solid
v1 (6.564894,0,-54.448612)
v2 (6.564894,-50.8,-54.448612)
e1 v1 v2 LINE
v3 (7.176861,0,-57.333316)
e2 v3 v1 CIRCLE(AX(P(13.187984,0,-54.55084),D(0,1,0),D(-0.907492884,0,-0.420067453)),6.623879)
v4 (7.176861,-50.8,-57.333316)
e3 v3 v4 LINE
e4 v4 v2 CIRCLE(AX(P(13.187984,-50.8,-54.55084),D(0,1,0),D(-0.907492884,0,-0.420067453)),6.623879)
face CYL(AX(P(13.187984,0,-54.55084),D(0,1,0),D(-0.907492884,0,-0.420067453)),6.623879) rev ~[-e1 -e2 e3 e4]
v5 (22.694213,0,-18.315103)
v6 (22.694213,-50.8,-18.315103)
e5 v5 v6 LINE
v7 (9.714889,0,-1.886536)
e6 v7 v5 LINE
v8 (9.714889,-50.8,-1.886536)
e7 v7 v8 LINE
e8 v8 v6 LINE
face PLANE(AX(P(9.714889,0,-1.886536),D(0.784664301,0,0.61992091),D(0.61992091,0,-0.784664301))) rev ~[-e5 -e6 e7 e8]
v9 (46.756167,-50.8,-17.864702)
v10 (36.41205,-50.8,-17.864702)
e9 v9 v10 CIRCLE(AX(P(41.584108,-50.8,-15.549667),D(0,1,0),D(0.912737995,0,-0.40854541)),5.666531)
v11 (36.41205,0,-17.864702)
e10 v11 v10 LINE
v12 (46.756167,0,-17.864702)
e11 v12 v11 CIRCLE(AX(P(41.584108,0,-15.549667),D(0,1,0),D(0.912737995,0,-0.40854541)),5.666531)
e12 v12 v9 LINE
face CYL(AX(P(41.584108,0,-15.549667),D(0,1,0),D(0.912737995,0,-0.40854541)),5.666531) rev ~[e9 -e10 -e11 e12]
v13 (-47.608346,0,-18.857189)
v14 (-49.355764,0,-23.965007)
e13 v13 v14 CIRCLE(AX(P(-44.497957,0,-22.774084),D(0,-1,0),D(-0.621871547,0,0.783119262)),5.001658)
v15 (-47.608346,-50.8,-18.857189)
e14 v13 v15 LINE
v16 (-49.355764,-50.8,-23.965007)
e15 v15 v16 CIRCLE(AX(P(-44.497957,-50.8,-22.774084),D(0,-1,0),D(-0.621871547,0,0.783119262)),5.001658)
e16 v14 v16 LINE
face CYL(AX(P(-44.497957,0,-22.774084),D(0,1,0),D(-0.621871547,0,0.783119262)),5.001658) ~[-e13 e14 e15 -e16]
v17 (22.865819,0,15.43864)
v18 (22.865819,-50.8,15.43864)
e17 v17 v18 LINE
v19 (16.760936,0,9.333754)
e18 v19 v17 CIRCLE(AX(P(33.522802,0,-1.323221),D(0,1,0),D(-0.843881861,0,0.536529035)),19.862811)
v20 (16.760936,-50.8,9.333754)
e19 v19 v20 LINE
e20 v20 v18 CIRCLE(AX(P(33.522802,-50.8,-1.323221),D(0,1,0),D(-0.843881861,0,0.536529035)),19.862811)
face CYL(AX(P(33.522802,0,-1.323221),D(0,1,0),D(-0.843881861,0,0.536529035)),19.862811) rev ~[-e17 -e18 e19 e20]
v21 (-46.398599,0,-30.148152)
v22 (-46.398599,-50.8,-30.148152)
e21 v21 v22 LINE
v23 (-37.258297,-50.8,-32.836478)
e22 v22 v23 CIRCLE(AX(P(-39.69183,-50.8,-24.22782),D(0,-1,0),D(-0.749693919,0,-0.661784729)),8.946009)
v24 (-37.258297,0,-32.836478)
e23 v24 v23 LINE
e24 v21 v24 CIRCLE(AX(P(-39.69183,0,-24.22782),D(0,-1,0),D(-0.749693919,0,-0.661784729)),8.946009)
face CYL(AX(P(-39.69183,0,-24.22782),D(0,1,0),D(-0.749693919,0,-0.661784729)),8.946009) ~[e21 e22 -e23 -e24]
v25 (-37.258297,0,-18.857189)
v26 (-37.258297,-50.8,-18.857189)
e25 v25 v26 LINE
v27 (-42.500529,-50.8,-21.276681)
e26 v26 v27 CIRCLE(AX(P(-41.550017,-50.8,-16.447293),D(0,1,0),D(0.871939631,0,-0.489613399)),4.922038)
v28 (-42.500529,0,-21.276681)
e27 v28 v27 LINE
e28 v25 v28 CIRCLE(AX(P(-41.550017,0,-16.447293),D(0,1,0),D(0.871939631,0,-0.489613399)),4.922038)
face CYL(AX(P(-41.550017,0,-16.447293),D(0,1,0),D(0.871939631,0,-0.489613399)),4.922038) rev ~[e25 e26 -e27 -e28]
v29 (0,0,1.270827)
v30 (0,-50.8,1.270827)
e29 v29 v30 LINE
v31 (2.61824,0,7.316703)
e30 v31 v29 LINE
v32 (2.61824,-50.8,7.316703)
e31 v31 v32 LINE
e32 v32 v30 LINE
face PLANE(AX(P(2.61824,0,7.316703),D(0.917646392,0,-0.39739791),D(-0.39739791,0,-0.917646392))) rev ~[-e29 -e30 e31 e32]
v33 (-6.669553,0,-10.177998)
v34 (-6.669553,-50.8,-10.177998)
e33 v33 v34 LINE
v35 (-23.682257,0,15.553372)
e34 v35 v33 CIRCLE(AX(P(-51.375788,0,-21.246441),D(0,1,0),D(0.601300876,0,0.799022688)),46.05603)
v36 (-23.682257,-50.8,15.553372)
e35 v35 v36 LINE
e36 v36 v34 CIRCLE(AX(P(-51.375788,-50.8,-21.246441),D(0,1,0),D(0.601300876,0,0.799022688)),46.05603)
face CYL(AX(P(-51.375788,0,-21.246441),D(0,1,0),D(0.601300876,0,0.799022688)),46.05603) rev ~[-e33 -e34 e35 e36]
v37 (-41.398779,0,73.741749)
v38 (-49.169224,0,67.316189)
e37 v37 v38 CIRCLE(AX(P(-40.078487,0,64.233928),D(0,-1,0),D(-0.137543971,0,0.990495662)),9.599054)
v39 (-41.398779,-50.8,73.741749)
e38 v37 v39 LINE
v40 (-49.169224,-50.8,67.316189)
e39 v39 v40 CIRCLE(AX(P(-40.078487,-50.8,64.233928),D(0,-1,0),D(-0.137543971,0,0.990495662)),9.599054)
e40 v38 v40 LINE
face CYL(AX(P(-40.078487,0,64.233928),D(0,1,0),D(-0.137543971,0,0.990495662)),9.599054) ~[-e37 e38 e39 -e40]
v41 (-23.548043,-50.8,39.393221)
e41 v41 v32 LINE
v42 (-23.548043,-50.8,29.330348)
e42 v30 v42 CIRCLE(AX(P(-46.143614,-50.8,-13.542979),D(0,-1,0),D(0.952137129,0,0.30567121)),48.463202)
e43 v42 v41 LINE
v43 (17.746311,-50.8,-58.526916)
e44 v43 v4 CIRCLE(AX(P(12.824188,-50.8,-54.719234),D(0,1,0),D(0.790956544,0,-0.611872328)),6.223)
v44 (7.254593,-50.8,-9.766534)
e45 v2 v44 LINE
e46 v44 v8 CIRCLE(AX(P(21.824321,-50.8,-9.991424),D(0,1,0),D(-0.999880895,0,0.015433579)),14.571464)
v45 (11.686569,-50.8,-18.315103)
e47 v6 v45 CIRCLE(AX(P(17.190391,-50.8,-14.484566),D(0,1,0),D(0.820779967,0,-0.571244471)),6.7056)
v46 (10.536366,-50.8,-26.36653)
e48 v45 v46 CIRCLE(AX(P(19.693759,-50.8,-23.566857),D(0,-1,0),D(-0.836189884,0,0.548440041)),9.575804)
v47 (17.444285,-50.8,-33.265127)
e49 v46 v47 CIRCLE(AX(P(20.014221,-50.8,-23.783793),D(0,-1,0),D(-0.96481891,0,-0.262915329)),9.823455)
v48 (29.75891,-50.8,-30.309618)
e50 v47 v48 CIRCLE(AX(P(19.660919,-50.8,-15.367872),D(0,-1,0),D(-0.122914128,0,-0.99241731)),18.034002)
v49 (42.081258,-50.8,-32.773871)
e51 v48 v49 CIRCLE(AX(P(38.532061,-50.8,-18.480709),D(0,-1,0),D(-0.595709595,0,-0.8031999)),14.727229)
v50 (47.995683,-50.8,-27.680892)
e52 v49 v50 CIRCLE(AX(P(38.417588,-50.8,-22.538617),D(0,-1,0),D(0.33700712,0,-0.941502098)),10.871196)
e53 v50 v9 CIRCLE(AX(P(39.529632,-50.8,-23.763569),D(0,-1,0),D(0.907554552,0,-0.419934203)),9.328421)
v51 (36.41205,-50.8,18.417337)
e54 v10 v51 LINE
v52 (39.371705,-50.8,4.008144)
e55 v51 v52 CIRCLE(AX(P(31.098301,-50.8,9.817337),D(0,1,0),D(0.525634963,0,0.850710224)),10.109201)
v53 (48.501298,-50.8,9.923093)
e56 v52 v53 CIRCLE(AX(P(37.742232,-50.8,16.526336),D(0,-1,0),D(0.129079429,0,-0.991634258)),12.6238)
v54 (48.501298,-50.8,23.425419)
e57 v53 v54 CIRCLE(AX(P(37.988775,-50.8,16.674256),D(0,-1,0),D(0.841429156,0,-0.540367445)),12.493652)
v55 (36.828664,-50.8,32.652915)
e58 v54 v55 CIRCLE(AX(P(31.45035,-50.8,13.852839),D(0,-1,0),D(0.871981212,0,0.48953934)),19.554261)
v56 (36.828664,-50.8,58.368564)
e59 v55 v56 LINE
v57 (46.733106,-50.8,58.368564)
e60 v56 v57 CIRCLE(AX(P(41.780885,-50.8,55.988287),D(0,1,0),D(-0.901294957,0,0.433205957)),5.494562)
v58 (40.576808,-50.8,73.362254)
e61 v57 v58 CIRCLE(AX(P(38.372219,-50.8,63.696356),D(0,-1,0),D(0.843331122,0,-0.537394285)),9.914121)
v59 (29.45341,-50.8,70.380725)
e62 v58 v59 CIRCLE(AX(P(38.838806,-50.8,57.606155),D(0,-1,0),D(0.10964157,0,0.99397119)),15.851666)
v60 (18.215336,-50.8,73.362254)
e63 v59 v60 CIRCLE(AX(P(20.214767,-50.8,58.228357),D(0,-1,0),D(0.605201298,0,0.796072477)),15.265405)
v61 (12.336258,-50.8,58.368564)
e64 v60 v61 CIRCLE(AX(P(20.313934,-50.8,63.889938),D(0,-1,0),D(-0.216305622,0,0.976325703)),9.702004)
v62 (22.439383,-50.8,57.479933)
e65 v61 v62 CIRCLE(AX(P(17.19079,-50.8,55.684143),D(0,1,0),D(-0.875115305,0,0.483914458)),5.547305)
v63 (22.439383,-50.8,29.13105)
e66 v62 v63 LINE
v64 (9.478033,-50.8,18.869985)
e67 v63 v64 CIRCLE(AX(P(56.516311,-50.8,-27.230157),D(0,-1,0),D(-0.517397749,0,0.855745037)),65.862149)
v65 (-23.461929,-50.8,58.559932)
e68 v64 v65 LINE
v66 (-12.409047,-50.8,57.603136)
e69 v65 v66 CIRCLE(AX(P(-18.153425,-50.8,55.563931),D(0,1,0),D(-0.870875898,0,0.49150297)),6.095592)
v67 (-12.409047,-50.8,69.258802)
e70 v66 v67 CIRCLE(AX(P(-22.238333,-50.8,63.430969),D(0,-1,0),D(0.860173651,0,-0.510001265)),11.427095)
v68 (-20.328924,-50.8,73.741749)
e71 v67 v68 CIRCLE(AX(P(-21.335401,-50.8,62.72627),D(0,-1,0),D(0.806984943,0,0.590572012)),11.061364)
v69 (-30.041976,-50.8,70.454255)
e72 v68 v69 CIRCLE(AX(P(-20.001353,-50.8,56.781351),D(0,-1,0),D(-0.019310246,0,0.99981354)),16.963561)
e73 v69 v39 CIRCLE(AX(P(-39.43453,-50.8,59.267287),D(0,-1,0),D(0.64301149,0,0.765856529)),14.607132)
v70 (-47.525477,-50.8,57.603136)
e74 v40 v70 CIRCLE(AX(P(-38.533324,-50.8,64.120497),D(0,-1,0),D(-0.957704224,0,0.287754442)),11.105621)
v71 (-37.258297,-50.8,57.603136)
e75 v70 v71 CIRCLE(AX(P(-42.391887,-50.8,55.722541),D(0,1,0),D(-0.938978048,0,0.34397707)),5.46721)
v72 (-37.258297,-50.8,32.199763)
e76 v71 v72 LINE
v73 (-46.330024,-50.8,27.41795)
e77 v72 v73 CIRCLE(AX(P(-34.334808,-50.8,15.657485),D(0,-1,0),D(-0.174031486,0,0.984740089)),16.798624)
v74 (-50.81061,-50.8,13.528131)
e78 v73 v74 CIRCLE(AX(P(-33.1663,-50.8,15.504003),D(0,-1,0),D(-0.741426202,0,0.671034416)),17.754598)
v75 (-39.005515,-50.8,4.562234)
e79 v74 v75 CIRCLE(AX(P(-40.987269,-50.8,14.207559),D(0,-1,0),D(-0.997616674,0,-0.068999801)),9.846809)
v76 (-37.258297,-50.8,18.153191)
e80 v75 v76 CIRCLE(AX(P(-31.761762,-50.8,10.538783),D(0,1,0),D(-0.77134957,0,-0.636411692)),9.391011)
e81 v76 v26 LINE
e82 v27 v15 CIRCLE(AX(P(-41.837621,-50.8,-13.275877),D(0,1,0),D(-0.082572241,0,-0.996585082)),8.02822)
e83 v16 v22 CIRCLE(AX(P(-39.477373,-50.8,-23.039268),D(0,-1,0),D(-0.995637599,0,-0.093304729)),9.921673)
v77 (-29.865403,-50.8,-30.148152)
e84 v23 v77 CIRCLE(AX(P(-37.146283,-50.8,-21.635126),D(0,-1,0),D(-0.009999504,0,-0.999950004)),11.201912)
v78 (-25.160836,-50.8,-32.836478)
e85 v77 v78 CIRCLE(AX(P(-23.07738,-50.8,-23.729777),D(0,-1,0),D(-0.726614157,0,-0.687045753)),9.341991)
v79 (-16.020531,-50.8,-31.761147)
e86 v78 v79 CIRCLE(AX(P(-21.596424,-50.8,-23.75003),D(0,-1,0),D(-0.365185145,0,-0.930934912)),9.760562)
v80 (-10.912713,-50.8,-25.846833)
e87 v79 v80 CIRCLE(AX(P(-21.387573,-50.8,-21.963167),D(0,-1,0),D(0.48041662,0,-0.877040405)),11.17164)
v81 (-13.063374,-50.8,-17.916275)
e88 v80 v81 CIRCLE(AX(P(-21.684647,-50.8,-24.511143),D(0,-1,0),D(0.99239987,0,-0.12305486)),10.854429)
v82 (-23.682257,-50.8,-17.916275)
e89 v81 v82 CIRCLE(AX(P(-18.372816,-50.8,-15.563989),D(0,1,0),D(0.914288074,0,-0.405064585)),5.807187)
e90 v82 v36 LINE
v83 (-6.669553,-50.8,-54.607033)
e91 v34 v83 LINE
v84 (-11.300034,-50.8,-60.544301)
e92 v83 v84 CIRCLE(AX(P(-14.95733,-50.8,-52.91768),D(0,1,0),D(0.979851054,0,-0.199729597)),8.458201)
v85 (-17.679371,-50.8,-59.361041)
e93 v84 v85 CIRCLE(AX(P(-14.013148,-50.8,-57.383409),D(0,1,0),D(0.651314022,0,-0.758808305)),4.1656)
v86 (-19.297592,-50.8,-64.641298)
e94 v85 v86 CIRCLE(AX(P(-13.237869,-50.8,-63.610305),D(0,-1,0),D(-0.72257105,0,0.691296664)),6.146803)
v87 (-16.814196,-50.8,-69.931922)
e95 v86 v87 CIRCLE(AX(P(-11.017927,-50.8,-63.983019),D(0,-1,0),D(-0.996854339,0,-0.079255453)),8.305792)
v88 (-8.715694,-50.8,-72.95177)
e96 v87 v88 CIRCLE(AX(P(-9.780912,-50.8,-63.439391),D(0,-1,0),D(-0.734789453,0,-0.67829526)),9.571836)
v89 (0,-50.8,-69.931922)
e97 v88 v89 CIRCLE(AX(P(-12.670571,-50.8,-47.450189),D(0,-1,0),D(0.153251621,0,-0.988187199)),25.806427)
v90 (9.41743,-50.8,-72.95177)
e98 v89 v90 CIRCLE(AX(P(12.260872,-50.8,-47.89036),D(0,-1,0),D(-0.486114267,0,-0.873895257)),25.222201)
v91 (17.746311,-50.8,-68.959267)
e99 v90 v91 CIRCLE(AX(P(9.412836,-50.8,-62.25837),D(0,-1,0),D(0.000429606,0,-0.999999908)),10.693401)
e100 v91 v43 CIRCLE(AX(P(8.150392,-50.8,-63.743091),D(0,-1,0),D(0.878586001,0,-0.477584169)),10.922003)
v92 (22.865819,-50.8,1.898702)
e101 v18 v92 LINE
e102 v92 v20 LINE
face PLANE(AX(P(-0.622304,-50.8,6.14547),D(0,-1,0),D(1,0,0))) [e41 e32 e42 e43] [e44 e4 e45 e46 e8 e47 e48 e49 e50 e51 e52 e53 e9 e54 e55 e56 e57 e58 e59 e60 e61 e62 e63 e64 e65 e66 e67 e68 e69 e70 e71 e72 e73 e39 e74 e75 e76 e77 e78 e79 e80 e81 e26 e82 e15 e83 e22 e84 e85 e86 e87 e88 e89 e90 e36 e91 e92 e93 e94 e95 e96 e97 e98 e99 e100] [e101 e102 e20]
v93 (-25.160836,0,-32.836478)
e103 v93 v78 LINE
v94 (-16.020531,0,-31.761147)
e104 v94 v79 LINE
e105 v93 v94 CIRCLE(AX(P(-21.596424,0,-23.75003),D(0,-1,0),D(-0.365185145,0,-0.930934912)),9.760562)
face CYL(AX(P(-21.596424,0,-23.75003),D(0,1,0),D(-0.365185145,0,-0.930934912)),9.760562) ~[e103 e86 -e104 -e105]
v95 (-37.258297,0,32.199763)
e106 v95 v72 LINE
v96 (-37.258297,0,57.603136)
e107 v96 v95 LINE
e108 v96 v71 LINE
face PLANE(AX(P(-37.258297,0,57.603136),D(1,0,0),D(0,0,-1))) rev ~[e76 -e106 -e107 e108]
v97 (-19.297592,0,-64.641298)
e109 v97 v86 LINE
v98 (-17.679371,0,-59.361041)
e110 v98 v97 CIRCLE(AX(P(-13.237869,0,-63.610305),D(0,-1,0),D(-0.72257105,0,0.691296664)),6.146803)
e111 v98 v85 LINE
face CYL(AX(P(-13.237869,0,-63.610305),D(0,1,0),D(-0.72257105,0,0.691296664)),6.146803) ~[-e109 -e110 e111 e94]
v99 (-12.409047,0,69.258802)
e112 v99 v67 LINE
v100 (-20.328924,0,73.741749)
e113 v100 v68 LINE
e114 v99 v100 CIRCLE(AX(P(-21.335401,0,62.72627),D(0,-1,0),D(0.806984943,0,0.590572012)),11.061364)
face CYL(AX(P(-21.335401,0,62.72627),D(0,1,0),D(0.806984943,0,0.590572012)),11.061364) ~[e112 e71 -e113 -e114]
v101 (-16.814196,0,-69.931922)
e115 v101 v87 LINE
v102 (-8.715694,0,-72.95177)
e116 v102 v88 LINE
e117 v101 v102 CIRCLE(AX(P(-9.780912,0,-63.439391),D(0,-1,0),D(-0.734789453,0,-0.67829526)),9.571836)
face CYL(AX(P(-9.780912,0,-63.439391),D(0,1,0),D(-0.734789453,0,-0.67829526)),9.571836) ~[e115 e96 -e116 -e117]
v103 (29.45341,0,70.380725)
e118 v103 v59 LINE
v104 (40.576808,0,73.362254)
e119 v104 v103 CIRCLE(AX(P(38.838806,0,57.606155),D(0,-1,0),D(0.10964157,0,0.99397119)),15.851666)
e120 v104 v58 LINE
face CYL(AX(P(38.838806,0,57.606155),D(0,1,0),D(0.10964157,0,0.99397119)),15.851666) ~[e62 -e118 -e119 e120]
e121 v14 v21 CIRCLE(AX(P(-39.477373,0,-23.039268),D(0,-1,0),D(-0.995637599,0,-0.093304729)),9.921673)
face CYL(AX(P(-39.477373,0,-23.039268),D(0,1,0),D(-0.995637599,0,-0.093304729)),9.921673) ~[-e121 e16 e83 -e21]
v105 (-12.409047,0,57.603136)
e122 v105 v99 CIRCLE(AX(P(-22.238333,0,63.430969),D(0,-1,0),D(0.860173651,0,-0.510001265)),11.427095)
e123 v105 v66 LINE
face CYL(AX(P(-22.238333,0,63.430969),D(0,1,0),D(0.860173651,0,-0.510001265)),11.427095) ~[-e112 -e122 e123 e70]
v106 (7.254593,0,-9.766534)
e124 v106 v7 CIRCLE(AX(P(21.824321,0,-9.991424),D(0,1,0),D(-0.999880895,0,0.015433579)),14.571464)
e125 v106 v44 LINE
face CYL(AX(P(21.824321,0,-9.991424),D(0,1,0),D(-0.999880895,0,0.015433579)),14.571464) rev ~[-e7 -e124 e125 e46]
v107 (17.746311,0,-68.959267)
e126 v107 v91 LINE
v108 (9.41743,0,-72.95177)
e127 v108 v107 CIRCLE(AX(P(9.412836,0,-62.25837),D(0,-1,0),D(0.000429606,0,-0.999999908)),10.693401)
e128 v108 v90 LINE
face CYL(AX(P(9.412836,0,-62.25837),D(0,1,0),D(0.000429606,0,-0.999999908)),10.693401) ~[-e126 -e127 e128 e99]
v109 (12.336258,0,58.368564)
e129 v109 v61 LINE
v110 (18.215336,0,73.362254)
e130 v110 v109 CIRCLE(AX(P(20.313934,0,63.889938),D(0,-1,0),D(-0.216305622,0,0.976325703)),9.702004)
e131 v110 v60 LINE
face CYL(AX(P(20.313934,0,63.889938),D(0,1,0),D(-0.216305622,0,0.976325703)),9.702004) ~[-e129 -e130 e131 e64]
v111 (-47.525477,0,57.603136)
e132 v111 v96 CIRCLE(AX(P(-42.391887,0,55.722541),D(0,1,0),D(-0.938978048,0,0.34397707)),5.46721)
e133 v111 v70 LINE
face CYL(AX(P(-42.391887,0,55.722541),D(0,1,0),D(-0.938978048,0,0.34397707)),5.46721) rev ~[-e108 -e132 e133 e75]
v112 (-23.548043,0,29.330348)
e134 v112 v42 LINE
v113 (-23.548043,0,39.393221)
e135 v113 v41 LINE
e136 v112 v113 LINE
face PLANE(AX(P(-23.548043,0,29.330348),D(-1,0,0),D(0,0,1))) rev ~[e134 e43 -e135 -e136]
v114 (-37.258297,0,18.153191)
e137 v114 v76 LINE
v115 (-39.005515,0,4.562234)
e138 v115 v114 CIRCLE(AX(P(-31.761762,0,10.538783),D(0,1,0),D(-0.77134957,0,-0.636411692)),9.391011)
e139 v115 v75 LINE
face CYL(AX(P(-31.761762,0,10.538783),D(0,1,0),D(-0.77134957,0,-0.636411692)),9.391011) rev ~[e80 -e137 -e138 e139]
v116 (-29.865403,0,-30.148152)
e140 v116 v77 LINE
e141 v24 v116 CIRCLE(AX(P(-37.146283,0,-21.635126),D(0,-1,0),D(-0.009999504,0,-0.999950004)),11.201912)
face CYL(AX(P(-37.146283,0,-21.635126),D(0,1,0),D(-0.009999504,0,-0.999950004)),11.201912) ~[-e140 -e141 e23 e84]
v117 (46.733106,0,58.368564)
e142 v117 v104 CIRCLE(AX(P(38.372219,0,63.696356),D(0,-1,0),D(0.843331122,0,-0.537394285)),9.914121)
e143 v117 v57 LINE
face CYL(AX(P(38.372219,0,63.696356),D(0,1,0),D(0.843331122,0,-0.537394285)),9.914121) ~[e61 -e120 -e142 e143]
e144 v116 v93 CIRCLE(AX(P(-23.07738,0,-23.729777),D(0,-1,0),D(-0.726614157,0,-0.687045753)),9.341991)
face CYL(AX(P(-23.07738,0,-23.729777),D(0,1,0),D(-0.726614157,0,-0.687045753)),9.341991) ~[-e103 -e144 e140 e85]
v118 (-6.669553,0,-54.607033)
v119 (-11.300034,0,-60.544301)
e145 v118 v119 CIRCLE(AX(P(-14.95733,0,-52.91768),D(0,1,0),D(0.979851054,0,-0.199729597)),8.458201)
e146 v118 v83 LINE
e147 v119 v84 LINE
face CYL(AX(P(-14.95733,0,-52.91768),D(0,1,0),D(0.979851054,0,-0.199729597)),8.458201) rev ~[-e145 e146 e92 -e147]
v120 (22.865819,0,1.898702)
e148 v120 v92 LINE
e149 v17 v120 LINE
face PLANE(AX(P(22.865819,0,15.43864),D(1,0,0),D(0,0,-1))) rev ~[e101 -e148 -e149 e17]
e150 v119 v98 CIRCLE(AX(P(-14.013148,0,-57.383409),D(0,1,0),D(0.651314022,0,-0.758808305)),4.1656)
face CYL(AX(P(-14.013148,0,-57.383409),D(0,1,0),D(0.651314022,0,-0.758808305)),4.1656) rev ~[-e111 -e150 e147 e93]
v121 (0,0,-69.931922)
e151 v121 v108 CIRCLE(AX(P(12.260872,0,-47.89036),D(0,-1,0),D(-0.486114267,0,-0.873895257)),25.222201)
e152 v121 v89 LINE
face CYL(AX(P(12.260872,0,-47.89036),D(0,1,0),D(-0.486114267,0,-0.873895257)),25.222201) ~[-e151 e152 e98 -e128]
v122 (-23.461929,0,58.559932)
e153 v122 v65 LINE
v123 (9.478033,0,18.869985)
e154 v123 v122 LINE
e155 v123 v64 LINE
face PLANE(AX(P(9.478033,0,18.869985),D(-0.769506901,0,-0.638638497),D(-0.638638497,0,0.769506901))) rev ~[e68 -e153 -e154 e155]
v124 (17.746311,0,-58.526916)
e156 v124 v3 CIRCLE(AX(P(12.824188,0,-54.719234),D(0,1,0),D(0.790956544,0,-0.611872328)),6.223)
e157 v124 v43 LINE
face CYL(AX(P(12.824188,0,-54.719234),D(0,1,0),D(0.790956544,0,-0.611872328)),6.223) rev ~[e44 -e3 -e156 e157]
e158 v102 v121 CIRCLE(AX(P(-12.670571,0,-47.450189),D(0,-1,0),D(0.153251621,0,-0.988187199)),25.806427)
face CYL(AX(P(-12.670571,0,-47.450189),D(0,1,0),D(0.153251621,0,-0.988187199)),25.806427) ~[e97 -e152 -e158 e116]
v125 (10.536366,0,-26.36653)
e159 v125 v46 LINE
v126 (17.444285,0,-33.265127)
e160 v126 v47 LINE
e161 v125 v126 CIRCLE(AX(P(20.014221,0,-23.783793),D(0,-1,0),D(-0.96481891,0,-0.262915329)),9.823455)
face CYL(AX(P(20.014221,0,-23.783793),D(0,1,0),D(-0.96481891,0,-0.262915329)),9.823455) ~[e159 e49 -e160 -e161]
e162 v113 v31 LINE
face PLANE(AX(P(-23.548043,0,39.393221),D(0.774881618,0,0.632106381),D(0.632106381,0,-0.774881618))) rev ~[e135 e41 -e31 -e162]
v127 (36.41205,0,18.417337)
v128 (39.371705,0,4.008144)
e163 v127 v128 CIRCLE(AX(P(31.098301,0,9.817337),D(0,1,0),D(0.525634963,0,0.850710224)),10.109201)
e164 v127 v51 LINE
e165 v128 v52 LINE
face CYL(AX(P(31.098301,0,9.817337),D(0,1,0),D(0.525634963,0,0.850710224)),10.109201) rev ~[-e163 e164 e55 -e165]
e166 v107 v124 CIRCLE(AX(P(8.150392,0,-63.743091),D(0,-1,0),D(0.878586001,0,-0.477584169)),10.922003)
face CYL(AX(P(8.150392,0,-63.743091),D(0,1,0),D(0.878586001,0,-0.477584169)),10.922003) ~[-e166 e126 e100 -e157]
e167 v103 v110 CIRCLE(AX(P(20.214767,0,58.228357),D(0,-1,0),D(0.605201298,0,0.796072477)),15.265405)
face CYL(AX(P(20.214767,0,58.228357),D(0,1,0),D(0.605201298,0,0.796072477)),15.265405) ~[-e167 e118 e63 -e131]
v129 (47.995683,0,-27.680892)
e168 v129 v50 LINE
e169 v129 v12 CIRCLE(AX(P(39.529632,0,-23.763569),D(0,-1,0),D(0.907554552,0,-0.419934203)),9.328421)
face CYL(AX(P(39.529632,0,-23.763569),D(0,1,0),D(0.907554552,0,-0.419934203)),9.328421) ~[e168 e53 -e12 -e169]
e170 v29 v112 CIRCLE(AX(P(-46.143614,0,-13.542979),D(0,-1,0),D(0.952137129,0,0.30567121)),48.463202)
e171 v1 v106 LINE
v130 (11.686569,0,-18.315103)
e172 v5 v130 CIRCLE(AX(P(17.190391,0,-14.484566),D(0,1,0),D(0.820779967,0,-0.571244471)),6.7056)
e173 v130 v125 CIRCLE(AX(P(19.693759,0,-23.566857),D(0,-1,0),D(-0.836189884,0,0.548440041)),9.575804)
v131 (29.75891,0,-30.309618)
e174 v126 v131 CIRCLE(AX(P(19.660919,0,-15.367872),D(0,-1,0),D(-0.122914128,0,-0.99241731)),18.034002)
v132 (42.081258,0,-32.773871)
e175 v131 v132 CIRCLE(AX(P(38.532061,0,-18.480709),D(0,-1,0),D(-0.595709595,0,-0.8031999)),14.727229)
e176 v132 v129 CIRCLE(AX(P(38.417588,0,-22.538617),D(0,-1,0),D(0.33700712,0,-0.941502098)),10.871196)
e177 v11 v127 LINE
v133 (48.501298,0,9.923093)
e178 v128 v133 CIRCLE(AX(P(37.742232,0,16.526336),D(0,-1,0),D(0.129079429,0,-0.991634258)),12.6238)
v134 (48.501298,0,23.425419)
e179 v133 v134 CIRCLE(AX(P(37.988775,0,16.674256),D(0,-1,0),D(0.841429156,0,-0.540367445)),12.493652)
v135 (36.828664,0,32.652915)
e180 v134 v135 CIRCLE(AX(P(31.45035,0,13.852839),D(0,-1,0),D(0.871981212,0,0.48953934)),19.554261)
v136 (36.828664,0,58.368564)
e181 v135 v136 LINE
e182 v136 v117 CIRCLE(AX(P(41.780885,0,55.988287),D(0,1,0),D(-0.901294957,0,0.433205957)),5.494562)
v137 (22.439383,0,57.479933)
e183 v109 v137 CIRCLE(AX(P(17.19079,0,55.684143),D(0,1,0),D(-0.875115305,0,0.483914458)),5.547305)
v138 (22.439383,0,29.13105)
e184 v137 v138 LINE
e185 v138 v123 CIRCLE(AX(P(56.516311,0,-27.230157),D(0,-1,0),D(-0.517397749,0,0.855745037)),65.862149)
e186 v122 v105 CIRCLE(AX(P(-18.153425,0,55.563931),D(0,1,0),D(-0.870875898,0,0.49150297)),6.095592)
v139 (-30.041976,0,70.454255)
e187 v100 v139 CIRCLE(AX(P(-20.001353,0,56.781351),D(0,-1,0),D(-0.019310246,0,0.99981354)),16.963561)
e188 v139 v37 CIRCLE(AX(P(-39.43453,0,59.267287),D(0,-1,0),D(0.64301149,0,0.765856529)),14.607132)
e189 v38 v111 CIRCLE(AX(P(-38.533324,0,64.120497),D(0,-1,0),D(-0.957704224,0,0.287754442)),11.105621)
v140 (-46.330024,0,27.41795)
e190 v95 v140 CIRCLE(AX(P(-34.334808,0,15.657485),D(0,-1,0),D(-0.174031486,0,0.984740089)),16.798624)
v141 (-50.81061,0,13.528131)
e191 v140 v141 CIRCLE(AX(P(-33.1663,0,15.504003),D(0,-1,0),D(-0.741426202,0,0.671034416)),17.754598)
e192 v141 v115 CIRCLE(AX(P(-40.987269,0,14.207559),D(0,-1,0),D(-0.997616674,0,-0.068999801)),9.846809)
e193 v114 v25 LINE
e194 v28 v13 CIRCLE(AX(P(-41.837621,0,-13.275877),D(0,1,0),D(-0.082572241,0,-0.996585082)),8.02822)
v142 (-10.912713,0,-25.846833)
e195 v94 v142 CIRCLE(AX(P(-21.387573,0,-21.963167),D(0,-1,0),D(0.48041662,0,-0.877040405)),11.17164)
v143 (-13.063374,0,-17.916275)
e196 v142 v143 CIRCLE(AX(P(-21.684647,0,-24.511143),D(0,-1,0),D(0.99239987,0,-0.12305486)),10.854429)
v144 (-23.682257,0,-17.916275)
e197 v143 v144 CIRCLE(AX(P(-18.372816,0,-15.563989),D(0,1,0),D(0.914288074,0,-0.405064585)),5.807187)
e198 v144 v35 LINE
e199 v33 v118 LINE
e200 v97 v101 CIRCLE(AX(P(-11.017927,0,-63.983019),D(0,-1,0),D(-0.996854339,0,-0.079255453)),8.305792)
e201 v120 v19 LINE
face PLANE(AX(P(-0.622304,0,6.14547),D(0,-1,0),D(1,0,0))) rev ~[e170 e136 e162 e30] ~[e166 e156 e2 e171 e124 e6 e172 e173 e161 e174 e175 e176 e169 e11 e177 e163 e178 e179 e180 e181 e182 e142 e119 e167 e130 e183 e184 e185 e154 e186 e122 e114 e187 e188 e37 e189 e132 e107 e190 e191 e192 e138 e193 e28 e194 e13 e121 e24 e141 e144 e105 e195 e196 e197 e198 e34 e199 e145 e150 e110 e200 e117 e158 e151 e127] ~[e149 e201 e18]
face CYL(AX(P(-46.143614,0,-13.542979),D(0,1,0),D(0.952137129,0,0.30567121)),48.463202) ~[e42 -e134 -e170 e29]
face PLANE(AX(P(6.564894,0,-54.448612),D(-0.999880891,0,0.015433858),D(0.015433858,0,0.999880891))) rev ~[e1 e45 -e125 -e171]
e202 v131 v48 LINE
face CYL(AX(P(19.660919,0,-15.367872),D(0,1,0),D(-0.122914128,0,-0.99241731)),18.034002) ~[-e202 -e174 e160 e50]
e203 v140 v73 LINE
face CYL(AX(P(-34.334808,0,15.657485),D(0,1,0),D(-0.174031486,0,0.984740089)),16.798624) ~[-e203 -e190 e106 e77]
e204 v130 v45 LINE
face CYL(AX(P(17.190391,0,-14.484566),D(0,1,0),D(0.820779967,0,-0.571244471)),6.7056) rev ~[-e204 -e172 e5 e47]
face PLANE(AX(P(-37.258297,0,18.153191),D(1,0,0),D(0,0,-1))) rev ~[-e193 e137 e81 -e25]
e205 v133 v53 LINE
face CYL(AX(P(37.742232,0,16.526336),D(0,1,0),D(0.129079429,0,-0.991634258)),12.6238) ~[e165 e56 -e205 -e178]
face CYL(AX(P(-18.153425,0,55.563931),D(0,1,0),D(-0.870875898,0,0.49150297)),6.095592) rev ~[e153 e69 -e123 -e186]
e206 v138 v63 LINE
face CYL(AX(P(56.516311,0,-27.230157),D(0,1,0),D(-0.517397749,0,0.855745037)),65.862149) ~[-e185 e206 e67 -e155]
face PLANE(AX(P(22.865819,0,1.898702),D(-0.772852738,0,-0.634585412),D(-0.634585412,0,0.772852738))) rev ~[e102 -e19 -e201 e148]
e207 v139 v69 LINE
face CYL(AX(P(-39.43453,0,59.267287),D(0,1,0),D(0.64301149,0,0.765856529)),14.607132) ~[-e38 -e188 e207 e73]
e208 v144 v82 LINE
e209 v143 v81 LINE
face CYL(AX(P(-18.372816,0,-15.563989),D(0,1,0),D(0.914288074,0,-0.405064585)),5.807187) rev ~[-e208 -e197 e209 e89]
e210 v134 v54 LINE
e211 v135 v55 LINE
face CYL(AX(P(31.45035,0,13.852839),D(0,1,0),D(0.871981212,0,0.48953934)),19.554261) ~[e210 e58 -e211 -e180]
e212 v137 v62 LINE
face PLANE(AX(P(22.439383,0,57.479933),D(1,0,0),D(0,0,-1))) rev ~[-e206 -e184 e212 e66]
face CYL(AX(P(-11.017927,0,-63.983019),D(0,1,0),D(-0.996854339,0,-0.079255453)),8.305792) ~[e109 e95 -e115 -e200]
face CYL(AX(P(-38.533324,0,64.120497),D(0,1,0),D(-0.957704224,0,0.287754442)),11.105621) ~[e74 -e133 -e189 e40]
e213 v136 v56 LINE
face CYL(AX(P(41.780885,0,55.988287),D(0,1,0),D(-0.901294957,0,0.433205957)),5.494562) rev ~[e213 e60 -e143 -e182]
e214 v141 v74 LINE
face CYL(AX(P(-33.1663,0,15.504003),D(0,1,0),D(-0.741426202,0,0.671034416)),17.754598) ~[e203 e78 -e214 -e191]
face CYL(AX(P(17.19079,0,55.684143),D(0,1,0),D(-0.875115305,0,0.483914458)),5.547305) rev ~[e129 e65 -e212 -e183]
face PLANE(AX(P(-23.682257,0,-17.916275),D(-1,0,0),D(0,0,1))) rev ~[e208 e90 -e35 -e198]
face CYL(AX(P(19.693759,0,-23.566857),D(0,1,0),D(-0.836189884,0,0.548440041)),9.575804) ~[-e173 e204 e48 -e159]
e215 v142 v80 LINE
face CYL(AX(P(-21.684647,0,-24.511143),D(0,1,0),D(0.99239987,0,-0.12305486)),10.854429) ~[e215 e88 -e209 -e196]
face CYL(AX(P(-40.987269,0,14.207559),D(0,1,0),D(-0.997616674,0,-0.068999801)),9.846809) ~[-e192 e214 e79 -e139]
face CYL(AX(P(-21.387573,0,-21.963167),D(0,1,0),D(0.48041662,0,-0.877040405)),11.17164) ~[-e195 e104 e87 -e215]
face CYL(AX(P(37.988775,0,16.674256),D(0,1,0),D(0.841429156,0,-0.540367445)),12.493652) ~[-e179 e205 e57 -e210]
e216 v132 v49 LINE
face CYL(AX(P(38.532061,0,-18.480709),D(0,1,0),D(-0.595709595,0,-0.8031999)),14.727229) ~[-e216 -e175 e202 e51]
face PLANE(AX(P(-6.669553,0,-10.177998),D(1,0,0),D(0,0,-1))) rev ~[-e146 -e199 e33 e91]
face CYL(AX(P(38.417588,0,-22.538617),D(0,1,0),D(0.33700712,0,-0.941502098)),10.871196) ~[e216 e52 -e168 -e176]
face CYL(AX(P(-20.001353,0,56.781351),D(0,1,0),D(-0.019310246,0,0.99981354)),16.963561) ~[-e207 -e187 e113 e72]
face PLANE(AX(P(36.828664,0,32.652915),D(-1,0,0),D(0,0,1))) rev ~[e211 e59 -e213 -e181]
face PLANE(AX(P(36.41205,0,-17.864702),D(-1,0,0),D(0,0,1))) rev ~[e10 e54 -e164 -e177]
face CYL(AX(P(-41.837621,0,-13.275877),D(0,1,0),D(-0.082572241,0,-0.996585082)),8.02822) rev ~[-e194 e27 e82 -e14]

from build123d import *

# Parameters (mm, degrees)
F1_DEPTH = 50.8


with BuildPart() as f1:
    # F0 (on Front) → F1 (new body)
    with BuildSketch(Plane.XZ):
        with BuildLine():
            ThreePointArc((22.439383, 29.13105), (15.63549, 24.408793), (9.478033, 18.869985))
            Line((9.478033, 18.869985), (-23.461929, 58.559932))
            ThreePointArc((-23.461929, 58.559932), (-17.627724, 61.636811), (-12.409047, 57.603136))
            ThreePointArc((-12.409047, 57.603136), (-10.811238, 63.430969), (-12.409047, 69.258802))
            ThreePointArc((-12.409047, 69.258802), (-15.886595, 72.352499), (-20.328924, 73.741749))
            ThreePointArc((-20.328924, 73.741749), (-25.439806, 72.849507), (-30.041976, 70.454255))
            ThreePointArc((-30.041976, 70.454255), (-35.3729, 73.298377), (-41.398779, 73.741749))
            ThreePointArc((-41.398779, 73.741749), (-46.195621, 71.631394), (-49.169224, 67.316189))
            ThreePointArc((-49.169224, 67.316189), (-49.483254, 62.267433), (-47.525477, 57.603136))
            ThreePointArc((-47.525477, 57.603136), (-42.391887, 61.189751), (-37.258297, 57.603136))
            Line((-37.258297, 57.603136), (-37.258297, 32.199763))
            ThreePointArc((-37.258297, 32.199763), (-42.167966, 30.518016), (-46.330024, 27.41795))
            ThreePointArc((-46.330024, 27.41795), (-50.063504, 20.954714), (-50.81061, 13.528131))
            ThreePointArc((-50.81061, 13.528131), (-46.942892, 6.36599), (-39.005515, 4.562234))
            ThreePointArc((-39.005515, 4.562234), (-41.07612, 11.736213), (-37.258297, 18.153191))
            Line((-37.258297, 18.153191), (-37.258297, -18.857189))
            ThreePointArc((-37.258297, -18.857189), (-39.487397, -20.916304), (-42.500529, -21.276681))
            ThreePointArc((-42.500529, -21.276681), (-45.274392, -20.531283), (-47.608346, -18.857189))
            ThreePointArc((-47.608346, -18.857189), (-49.230344, -21.155103), (-49.355764, -23.965007))
            ThreePointArc((-49.355764, -23.965007), (-48.428049, -27.320039), (-46.398599, -30.148152))
            ThreePointArc((-46.398599, -30.148152), (-42.216094, -32.810312), (-37.258297, -32.836478))
            ThreePointArc((-37.258297, -32.836478), (-33.318107, -32.162609), (-29.865403, -30.148152))
            ThreePointArc((-29.865403, -30.148152), (-27.712308, -31.840895), (-25.160836, -32.836478))
            ThreePointArc((-25.160836, -32.836478), (-20.455986, -33.443738), (-16.020531, -31.761147))
            ThreePointArc((-16.020531, -31.761147), (-12.932619, -29.265174), (-10.912713, -25.846833))
            ThreePointArc((-10.912713, -25.846833), (-11.2086, -21.67018), (-13.063374, -17.916275))
            ThreePointArc((-13.063374, -17.916275), (-18.372816, -21.371176), (-23.682257, -17.916275))
            Line((-23.682257, -17.916275), (-23.682257, 15.553372))
            ThreePointArc((-23.682257, 15.553372), (-12.957597, 4.154356), (-6.669553, -10.177998))
            Line((-6.669553, -10.177998), (-6.669553, -54.607033))
            ThreePointArc((-6.669553, -54.607033), (-8.287699, -58.119332), (-11.300034, -60.544301))
            ThreePointArc((-11.300034, -60.544301), (-14.772838, -61.47915), (-17.679371, -59.361041))
            ThreePointArc((-17.679371, -59.361041), (-19.114876, -61.809201), (-19.297592, -64.641298))
            ThreePointArc((-19.297592, -64.641298), (-18.536614, -67.512258), (-16.814196, -69.931922))
            ThreePointArc((-16.814196, -69.931922), (-13.12521, -72.407987), (-8.715694, -72.95177))
            ThreePointArc((-8.715694, -72.95177), (-4.221828, -71.834414), (0, -69.931922))
            ThreePointArc((0, -69.931922), (4.559252, -71.907947), (9.41743, -72.95177))
            ThreePointArc((9.41743, -72.95177), (14.035159, -71.901137), (17.746311, -68.959267))
            ThreePointArc((17.746311, -68.959267), (19.072395, -63.743091), (17.746311, -58.526916))
            ThreePointArc((17.746311, -58.526916), (12.125868, -60.902929), (7.176861, -57.333316))
            ThreePointArc((7.176861, -57.333316), (6.708307, -55.925452), (6.564894, -54.448612))
            Line((6.564894, -54.448612), (7.254593, -9.766534))
            ThreePointArc((7.254593, -9.766534), (7.915044, -5.648664), (9.714889, -1.886536))
            Line((9.714889, -1.886536), (22.694213, -18.315103))
            ThreePointArc((22.694213, -18.315103), (17.190391, -21.190166), (11.686569, -18.315103))
            ThreePointArc((11.686569, -18.315103), (10.214197, -22.212635), (10.536366, -26.36653))
            ThreePointArc((10.536366, -26.36653), (13.072681, -30.734713), (17.444285, -33.265127))
            ThreePointArc((17.444285, -33.265127), (23.869566, -32.903906), (29.75891, -30.309618))
            ThreePointArc((29.75891, -30.309618), (35.644058, -32.921994), (42.081258, -32.773871))
            ThreePointArc((42.081258, -32.773871), (45.511296, -30.776469), (47.995683, -27.680892))
            ThreePointArc((47.995683, -27.680892), (48.784561, -22.594925), (46.756167, -17.864702))
            ThreePointArc((46.756167, -17.864702), (41.584109, -21.216198), (36.41205, -17.864702))
            Line((36.41205, -17.864702), (36.41205, 18.417337))
            ThreePointArc((36.41205, 18.417337), (41.00077, 11.851308), (39.371705, 4.008144))
            ThreePointArc((39.371705, 4.008144), (44.606315, 5.931777), (48.501298, 9.923093))
            ThreePointArc((48.501298, 9.923093), (50.482427, 16.674256), (48.501298, 23.425419))
            ThreePointArc((48.501298, 23.425419), (43.576958, 29.192803), (36.828664, 32.652915))
            Line((36.828664, 32.652915), (36.828664, 58.368564))
            ThreePointArc((36.828664, 58.368564), (41.780885, 61.482849), (46.733106, 58.368564))
            ThreePointArc((46.733106, 58.368564), (47.54337, 67.461962), (40.576808, 73.362254))
            ThreePointArc((40.576808, 73.362254), (34.734779, 72.917336), (29.45341, 70.380725))
            ThreePointArc((29.45341, 70.380725), (24.129346, 72.98331), (18.215336, 73.362254))
            ThreePointArc((18.215336, 73.362254), (11.281464, 67.4316), (12.336258, 58.368564))
            ThreePointArc((12.336258, 58.368564), (17.676832, 61.210114), (22.439383, 57.479933))
            Line((22.439383, 57.479933), (22.439383, 29.13105))
        make_face()
        with BuildLine():
            Line((-23.548043, 29.330348), (-23.548043, 39.393221))
            Line((-23.548043, 39.393221), (2.61824, 7.316703))
            Line((2.61824, 7.316703), (0, 1.270827))
            ThreePointArc((0, 1.270827), (-9.020803, 17.611136), (-23.548043, 29.330348))
        make_face(mode=Mode.SUBTRACT)
        with BuildLine():
            ThreePointArc((16.760936, 9.333754), (19.47767, 12.721904), (22.865819, 15.43864))
            Line((22.865819, 15.43864), (22.865819, 1.898702))
            Line((22.865819, 1.898702), (16.760936, 9.333754))
        make_face(mode=Mode.SUBTRACT)
    extrude(amount=F1_DEPTH)


solid = f1.part
